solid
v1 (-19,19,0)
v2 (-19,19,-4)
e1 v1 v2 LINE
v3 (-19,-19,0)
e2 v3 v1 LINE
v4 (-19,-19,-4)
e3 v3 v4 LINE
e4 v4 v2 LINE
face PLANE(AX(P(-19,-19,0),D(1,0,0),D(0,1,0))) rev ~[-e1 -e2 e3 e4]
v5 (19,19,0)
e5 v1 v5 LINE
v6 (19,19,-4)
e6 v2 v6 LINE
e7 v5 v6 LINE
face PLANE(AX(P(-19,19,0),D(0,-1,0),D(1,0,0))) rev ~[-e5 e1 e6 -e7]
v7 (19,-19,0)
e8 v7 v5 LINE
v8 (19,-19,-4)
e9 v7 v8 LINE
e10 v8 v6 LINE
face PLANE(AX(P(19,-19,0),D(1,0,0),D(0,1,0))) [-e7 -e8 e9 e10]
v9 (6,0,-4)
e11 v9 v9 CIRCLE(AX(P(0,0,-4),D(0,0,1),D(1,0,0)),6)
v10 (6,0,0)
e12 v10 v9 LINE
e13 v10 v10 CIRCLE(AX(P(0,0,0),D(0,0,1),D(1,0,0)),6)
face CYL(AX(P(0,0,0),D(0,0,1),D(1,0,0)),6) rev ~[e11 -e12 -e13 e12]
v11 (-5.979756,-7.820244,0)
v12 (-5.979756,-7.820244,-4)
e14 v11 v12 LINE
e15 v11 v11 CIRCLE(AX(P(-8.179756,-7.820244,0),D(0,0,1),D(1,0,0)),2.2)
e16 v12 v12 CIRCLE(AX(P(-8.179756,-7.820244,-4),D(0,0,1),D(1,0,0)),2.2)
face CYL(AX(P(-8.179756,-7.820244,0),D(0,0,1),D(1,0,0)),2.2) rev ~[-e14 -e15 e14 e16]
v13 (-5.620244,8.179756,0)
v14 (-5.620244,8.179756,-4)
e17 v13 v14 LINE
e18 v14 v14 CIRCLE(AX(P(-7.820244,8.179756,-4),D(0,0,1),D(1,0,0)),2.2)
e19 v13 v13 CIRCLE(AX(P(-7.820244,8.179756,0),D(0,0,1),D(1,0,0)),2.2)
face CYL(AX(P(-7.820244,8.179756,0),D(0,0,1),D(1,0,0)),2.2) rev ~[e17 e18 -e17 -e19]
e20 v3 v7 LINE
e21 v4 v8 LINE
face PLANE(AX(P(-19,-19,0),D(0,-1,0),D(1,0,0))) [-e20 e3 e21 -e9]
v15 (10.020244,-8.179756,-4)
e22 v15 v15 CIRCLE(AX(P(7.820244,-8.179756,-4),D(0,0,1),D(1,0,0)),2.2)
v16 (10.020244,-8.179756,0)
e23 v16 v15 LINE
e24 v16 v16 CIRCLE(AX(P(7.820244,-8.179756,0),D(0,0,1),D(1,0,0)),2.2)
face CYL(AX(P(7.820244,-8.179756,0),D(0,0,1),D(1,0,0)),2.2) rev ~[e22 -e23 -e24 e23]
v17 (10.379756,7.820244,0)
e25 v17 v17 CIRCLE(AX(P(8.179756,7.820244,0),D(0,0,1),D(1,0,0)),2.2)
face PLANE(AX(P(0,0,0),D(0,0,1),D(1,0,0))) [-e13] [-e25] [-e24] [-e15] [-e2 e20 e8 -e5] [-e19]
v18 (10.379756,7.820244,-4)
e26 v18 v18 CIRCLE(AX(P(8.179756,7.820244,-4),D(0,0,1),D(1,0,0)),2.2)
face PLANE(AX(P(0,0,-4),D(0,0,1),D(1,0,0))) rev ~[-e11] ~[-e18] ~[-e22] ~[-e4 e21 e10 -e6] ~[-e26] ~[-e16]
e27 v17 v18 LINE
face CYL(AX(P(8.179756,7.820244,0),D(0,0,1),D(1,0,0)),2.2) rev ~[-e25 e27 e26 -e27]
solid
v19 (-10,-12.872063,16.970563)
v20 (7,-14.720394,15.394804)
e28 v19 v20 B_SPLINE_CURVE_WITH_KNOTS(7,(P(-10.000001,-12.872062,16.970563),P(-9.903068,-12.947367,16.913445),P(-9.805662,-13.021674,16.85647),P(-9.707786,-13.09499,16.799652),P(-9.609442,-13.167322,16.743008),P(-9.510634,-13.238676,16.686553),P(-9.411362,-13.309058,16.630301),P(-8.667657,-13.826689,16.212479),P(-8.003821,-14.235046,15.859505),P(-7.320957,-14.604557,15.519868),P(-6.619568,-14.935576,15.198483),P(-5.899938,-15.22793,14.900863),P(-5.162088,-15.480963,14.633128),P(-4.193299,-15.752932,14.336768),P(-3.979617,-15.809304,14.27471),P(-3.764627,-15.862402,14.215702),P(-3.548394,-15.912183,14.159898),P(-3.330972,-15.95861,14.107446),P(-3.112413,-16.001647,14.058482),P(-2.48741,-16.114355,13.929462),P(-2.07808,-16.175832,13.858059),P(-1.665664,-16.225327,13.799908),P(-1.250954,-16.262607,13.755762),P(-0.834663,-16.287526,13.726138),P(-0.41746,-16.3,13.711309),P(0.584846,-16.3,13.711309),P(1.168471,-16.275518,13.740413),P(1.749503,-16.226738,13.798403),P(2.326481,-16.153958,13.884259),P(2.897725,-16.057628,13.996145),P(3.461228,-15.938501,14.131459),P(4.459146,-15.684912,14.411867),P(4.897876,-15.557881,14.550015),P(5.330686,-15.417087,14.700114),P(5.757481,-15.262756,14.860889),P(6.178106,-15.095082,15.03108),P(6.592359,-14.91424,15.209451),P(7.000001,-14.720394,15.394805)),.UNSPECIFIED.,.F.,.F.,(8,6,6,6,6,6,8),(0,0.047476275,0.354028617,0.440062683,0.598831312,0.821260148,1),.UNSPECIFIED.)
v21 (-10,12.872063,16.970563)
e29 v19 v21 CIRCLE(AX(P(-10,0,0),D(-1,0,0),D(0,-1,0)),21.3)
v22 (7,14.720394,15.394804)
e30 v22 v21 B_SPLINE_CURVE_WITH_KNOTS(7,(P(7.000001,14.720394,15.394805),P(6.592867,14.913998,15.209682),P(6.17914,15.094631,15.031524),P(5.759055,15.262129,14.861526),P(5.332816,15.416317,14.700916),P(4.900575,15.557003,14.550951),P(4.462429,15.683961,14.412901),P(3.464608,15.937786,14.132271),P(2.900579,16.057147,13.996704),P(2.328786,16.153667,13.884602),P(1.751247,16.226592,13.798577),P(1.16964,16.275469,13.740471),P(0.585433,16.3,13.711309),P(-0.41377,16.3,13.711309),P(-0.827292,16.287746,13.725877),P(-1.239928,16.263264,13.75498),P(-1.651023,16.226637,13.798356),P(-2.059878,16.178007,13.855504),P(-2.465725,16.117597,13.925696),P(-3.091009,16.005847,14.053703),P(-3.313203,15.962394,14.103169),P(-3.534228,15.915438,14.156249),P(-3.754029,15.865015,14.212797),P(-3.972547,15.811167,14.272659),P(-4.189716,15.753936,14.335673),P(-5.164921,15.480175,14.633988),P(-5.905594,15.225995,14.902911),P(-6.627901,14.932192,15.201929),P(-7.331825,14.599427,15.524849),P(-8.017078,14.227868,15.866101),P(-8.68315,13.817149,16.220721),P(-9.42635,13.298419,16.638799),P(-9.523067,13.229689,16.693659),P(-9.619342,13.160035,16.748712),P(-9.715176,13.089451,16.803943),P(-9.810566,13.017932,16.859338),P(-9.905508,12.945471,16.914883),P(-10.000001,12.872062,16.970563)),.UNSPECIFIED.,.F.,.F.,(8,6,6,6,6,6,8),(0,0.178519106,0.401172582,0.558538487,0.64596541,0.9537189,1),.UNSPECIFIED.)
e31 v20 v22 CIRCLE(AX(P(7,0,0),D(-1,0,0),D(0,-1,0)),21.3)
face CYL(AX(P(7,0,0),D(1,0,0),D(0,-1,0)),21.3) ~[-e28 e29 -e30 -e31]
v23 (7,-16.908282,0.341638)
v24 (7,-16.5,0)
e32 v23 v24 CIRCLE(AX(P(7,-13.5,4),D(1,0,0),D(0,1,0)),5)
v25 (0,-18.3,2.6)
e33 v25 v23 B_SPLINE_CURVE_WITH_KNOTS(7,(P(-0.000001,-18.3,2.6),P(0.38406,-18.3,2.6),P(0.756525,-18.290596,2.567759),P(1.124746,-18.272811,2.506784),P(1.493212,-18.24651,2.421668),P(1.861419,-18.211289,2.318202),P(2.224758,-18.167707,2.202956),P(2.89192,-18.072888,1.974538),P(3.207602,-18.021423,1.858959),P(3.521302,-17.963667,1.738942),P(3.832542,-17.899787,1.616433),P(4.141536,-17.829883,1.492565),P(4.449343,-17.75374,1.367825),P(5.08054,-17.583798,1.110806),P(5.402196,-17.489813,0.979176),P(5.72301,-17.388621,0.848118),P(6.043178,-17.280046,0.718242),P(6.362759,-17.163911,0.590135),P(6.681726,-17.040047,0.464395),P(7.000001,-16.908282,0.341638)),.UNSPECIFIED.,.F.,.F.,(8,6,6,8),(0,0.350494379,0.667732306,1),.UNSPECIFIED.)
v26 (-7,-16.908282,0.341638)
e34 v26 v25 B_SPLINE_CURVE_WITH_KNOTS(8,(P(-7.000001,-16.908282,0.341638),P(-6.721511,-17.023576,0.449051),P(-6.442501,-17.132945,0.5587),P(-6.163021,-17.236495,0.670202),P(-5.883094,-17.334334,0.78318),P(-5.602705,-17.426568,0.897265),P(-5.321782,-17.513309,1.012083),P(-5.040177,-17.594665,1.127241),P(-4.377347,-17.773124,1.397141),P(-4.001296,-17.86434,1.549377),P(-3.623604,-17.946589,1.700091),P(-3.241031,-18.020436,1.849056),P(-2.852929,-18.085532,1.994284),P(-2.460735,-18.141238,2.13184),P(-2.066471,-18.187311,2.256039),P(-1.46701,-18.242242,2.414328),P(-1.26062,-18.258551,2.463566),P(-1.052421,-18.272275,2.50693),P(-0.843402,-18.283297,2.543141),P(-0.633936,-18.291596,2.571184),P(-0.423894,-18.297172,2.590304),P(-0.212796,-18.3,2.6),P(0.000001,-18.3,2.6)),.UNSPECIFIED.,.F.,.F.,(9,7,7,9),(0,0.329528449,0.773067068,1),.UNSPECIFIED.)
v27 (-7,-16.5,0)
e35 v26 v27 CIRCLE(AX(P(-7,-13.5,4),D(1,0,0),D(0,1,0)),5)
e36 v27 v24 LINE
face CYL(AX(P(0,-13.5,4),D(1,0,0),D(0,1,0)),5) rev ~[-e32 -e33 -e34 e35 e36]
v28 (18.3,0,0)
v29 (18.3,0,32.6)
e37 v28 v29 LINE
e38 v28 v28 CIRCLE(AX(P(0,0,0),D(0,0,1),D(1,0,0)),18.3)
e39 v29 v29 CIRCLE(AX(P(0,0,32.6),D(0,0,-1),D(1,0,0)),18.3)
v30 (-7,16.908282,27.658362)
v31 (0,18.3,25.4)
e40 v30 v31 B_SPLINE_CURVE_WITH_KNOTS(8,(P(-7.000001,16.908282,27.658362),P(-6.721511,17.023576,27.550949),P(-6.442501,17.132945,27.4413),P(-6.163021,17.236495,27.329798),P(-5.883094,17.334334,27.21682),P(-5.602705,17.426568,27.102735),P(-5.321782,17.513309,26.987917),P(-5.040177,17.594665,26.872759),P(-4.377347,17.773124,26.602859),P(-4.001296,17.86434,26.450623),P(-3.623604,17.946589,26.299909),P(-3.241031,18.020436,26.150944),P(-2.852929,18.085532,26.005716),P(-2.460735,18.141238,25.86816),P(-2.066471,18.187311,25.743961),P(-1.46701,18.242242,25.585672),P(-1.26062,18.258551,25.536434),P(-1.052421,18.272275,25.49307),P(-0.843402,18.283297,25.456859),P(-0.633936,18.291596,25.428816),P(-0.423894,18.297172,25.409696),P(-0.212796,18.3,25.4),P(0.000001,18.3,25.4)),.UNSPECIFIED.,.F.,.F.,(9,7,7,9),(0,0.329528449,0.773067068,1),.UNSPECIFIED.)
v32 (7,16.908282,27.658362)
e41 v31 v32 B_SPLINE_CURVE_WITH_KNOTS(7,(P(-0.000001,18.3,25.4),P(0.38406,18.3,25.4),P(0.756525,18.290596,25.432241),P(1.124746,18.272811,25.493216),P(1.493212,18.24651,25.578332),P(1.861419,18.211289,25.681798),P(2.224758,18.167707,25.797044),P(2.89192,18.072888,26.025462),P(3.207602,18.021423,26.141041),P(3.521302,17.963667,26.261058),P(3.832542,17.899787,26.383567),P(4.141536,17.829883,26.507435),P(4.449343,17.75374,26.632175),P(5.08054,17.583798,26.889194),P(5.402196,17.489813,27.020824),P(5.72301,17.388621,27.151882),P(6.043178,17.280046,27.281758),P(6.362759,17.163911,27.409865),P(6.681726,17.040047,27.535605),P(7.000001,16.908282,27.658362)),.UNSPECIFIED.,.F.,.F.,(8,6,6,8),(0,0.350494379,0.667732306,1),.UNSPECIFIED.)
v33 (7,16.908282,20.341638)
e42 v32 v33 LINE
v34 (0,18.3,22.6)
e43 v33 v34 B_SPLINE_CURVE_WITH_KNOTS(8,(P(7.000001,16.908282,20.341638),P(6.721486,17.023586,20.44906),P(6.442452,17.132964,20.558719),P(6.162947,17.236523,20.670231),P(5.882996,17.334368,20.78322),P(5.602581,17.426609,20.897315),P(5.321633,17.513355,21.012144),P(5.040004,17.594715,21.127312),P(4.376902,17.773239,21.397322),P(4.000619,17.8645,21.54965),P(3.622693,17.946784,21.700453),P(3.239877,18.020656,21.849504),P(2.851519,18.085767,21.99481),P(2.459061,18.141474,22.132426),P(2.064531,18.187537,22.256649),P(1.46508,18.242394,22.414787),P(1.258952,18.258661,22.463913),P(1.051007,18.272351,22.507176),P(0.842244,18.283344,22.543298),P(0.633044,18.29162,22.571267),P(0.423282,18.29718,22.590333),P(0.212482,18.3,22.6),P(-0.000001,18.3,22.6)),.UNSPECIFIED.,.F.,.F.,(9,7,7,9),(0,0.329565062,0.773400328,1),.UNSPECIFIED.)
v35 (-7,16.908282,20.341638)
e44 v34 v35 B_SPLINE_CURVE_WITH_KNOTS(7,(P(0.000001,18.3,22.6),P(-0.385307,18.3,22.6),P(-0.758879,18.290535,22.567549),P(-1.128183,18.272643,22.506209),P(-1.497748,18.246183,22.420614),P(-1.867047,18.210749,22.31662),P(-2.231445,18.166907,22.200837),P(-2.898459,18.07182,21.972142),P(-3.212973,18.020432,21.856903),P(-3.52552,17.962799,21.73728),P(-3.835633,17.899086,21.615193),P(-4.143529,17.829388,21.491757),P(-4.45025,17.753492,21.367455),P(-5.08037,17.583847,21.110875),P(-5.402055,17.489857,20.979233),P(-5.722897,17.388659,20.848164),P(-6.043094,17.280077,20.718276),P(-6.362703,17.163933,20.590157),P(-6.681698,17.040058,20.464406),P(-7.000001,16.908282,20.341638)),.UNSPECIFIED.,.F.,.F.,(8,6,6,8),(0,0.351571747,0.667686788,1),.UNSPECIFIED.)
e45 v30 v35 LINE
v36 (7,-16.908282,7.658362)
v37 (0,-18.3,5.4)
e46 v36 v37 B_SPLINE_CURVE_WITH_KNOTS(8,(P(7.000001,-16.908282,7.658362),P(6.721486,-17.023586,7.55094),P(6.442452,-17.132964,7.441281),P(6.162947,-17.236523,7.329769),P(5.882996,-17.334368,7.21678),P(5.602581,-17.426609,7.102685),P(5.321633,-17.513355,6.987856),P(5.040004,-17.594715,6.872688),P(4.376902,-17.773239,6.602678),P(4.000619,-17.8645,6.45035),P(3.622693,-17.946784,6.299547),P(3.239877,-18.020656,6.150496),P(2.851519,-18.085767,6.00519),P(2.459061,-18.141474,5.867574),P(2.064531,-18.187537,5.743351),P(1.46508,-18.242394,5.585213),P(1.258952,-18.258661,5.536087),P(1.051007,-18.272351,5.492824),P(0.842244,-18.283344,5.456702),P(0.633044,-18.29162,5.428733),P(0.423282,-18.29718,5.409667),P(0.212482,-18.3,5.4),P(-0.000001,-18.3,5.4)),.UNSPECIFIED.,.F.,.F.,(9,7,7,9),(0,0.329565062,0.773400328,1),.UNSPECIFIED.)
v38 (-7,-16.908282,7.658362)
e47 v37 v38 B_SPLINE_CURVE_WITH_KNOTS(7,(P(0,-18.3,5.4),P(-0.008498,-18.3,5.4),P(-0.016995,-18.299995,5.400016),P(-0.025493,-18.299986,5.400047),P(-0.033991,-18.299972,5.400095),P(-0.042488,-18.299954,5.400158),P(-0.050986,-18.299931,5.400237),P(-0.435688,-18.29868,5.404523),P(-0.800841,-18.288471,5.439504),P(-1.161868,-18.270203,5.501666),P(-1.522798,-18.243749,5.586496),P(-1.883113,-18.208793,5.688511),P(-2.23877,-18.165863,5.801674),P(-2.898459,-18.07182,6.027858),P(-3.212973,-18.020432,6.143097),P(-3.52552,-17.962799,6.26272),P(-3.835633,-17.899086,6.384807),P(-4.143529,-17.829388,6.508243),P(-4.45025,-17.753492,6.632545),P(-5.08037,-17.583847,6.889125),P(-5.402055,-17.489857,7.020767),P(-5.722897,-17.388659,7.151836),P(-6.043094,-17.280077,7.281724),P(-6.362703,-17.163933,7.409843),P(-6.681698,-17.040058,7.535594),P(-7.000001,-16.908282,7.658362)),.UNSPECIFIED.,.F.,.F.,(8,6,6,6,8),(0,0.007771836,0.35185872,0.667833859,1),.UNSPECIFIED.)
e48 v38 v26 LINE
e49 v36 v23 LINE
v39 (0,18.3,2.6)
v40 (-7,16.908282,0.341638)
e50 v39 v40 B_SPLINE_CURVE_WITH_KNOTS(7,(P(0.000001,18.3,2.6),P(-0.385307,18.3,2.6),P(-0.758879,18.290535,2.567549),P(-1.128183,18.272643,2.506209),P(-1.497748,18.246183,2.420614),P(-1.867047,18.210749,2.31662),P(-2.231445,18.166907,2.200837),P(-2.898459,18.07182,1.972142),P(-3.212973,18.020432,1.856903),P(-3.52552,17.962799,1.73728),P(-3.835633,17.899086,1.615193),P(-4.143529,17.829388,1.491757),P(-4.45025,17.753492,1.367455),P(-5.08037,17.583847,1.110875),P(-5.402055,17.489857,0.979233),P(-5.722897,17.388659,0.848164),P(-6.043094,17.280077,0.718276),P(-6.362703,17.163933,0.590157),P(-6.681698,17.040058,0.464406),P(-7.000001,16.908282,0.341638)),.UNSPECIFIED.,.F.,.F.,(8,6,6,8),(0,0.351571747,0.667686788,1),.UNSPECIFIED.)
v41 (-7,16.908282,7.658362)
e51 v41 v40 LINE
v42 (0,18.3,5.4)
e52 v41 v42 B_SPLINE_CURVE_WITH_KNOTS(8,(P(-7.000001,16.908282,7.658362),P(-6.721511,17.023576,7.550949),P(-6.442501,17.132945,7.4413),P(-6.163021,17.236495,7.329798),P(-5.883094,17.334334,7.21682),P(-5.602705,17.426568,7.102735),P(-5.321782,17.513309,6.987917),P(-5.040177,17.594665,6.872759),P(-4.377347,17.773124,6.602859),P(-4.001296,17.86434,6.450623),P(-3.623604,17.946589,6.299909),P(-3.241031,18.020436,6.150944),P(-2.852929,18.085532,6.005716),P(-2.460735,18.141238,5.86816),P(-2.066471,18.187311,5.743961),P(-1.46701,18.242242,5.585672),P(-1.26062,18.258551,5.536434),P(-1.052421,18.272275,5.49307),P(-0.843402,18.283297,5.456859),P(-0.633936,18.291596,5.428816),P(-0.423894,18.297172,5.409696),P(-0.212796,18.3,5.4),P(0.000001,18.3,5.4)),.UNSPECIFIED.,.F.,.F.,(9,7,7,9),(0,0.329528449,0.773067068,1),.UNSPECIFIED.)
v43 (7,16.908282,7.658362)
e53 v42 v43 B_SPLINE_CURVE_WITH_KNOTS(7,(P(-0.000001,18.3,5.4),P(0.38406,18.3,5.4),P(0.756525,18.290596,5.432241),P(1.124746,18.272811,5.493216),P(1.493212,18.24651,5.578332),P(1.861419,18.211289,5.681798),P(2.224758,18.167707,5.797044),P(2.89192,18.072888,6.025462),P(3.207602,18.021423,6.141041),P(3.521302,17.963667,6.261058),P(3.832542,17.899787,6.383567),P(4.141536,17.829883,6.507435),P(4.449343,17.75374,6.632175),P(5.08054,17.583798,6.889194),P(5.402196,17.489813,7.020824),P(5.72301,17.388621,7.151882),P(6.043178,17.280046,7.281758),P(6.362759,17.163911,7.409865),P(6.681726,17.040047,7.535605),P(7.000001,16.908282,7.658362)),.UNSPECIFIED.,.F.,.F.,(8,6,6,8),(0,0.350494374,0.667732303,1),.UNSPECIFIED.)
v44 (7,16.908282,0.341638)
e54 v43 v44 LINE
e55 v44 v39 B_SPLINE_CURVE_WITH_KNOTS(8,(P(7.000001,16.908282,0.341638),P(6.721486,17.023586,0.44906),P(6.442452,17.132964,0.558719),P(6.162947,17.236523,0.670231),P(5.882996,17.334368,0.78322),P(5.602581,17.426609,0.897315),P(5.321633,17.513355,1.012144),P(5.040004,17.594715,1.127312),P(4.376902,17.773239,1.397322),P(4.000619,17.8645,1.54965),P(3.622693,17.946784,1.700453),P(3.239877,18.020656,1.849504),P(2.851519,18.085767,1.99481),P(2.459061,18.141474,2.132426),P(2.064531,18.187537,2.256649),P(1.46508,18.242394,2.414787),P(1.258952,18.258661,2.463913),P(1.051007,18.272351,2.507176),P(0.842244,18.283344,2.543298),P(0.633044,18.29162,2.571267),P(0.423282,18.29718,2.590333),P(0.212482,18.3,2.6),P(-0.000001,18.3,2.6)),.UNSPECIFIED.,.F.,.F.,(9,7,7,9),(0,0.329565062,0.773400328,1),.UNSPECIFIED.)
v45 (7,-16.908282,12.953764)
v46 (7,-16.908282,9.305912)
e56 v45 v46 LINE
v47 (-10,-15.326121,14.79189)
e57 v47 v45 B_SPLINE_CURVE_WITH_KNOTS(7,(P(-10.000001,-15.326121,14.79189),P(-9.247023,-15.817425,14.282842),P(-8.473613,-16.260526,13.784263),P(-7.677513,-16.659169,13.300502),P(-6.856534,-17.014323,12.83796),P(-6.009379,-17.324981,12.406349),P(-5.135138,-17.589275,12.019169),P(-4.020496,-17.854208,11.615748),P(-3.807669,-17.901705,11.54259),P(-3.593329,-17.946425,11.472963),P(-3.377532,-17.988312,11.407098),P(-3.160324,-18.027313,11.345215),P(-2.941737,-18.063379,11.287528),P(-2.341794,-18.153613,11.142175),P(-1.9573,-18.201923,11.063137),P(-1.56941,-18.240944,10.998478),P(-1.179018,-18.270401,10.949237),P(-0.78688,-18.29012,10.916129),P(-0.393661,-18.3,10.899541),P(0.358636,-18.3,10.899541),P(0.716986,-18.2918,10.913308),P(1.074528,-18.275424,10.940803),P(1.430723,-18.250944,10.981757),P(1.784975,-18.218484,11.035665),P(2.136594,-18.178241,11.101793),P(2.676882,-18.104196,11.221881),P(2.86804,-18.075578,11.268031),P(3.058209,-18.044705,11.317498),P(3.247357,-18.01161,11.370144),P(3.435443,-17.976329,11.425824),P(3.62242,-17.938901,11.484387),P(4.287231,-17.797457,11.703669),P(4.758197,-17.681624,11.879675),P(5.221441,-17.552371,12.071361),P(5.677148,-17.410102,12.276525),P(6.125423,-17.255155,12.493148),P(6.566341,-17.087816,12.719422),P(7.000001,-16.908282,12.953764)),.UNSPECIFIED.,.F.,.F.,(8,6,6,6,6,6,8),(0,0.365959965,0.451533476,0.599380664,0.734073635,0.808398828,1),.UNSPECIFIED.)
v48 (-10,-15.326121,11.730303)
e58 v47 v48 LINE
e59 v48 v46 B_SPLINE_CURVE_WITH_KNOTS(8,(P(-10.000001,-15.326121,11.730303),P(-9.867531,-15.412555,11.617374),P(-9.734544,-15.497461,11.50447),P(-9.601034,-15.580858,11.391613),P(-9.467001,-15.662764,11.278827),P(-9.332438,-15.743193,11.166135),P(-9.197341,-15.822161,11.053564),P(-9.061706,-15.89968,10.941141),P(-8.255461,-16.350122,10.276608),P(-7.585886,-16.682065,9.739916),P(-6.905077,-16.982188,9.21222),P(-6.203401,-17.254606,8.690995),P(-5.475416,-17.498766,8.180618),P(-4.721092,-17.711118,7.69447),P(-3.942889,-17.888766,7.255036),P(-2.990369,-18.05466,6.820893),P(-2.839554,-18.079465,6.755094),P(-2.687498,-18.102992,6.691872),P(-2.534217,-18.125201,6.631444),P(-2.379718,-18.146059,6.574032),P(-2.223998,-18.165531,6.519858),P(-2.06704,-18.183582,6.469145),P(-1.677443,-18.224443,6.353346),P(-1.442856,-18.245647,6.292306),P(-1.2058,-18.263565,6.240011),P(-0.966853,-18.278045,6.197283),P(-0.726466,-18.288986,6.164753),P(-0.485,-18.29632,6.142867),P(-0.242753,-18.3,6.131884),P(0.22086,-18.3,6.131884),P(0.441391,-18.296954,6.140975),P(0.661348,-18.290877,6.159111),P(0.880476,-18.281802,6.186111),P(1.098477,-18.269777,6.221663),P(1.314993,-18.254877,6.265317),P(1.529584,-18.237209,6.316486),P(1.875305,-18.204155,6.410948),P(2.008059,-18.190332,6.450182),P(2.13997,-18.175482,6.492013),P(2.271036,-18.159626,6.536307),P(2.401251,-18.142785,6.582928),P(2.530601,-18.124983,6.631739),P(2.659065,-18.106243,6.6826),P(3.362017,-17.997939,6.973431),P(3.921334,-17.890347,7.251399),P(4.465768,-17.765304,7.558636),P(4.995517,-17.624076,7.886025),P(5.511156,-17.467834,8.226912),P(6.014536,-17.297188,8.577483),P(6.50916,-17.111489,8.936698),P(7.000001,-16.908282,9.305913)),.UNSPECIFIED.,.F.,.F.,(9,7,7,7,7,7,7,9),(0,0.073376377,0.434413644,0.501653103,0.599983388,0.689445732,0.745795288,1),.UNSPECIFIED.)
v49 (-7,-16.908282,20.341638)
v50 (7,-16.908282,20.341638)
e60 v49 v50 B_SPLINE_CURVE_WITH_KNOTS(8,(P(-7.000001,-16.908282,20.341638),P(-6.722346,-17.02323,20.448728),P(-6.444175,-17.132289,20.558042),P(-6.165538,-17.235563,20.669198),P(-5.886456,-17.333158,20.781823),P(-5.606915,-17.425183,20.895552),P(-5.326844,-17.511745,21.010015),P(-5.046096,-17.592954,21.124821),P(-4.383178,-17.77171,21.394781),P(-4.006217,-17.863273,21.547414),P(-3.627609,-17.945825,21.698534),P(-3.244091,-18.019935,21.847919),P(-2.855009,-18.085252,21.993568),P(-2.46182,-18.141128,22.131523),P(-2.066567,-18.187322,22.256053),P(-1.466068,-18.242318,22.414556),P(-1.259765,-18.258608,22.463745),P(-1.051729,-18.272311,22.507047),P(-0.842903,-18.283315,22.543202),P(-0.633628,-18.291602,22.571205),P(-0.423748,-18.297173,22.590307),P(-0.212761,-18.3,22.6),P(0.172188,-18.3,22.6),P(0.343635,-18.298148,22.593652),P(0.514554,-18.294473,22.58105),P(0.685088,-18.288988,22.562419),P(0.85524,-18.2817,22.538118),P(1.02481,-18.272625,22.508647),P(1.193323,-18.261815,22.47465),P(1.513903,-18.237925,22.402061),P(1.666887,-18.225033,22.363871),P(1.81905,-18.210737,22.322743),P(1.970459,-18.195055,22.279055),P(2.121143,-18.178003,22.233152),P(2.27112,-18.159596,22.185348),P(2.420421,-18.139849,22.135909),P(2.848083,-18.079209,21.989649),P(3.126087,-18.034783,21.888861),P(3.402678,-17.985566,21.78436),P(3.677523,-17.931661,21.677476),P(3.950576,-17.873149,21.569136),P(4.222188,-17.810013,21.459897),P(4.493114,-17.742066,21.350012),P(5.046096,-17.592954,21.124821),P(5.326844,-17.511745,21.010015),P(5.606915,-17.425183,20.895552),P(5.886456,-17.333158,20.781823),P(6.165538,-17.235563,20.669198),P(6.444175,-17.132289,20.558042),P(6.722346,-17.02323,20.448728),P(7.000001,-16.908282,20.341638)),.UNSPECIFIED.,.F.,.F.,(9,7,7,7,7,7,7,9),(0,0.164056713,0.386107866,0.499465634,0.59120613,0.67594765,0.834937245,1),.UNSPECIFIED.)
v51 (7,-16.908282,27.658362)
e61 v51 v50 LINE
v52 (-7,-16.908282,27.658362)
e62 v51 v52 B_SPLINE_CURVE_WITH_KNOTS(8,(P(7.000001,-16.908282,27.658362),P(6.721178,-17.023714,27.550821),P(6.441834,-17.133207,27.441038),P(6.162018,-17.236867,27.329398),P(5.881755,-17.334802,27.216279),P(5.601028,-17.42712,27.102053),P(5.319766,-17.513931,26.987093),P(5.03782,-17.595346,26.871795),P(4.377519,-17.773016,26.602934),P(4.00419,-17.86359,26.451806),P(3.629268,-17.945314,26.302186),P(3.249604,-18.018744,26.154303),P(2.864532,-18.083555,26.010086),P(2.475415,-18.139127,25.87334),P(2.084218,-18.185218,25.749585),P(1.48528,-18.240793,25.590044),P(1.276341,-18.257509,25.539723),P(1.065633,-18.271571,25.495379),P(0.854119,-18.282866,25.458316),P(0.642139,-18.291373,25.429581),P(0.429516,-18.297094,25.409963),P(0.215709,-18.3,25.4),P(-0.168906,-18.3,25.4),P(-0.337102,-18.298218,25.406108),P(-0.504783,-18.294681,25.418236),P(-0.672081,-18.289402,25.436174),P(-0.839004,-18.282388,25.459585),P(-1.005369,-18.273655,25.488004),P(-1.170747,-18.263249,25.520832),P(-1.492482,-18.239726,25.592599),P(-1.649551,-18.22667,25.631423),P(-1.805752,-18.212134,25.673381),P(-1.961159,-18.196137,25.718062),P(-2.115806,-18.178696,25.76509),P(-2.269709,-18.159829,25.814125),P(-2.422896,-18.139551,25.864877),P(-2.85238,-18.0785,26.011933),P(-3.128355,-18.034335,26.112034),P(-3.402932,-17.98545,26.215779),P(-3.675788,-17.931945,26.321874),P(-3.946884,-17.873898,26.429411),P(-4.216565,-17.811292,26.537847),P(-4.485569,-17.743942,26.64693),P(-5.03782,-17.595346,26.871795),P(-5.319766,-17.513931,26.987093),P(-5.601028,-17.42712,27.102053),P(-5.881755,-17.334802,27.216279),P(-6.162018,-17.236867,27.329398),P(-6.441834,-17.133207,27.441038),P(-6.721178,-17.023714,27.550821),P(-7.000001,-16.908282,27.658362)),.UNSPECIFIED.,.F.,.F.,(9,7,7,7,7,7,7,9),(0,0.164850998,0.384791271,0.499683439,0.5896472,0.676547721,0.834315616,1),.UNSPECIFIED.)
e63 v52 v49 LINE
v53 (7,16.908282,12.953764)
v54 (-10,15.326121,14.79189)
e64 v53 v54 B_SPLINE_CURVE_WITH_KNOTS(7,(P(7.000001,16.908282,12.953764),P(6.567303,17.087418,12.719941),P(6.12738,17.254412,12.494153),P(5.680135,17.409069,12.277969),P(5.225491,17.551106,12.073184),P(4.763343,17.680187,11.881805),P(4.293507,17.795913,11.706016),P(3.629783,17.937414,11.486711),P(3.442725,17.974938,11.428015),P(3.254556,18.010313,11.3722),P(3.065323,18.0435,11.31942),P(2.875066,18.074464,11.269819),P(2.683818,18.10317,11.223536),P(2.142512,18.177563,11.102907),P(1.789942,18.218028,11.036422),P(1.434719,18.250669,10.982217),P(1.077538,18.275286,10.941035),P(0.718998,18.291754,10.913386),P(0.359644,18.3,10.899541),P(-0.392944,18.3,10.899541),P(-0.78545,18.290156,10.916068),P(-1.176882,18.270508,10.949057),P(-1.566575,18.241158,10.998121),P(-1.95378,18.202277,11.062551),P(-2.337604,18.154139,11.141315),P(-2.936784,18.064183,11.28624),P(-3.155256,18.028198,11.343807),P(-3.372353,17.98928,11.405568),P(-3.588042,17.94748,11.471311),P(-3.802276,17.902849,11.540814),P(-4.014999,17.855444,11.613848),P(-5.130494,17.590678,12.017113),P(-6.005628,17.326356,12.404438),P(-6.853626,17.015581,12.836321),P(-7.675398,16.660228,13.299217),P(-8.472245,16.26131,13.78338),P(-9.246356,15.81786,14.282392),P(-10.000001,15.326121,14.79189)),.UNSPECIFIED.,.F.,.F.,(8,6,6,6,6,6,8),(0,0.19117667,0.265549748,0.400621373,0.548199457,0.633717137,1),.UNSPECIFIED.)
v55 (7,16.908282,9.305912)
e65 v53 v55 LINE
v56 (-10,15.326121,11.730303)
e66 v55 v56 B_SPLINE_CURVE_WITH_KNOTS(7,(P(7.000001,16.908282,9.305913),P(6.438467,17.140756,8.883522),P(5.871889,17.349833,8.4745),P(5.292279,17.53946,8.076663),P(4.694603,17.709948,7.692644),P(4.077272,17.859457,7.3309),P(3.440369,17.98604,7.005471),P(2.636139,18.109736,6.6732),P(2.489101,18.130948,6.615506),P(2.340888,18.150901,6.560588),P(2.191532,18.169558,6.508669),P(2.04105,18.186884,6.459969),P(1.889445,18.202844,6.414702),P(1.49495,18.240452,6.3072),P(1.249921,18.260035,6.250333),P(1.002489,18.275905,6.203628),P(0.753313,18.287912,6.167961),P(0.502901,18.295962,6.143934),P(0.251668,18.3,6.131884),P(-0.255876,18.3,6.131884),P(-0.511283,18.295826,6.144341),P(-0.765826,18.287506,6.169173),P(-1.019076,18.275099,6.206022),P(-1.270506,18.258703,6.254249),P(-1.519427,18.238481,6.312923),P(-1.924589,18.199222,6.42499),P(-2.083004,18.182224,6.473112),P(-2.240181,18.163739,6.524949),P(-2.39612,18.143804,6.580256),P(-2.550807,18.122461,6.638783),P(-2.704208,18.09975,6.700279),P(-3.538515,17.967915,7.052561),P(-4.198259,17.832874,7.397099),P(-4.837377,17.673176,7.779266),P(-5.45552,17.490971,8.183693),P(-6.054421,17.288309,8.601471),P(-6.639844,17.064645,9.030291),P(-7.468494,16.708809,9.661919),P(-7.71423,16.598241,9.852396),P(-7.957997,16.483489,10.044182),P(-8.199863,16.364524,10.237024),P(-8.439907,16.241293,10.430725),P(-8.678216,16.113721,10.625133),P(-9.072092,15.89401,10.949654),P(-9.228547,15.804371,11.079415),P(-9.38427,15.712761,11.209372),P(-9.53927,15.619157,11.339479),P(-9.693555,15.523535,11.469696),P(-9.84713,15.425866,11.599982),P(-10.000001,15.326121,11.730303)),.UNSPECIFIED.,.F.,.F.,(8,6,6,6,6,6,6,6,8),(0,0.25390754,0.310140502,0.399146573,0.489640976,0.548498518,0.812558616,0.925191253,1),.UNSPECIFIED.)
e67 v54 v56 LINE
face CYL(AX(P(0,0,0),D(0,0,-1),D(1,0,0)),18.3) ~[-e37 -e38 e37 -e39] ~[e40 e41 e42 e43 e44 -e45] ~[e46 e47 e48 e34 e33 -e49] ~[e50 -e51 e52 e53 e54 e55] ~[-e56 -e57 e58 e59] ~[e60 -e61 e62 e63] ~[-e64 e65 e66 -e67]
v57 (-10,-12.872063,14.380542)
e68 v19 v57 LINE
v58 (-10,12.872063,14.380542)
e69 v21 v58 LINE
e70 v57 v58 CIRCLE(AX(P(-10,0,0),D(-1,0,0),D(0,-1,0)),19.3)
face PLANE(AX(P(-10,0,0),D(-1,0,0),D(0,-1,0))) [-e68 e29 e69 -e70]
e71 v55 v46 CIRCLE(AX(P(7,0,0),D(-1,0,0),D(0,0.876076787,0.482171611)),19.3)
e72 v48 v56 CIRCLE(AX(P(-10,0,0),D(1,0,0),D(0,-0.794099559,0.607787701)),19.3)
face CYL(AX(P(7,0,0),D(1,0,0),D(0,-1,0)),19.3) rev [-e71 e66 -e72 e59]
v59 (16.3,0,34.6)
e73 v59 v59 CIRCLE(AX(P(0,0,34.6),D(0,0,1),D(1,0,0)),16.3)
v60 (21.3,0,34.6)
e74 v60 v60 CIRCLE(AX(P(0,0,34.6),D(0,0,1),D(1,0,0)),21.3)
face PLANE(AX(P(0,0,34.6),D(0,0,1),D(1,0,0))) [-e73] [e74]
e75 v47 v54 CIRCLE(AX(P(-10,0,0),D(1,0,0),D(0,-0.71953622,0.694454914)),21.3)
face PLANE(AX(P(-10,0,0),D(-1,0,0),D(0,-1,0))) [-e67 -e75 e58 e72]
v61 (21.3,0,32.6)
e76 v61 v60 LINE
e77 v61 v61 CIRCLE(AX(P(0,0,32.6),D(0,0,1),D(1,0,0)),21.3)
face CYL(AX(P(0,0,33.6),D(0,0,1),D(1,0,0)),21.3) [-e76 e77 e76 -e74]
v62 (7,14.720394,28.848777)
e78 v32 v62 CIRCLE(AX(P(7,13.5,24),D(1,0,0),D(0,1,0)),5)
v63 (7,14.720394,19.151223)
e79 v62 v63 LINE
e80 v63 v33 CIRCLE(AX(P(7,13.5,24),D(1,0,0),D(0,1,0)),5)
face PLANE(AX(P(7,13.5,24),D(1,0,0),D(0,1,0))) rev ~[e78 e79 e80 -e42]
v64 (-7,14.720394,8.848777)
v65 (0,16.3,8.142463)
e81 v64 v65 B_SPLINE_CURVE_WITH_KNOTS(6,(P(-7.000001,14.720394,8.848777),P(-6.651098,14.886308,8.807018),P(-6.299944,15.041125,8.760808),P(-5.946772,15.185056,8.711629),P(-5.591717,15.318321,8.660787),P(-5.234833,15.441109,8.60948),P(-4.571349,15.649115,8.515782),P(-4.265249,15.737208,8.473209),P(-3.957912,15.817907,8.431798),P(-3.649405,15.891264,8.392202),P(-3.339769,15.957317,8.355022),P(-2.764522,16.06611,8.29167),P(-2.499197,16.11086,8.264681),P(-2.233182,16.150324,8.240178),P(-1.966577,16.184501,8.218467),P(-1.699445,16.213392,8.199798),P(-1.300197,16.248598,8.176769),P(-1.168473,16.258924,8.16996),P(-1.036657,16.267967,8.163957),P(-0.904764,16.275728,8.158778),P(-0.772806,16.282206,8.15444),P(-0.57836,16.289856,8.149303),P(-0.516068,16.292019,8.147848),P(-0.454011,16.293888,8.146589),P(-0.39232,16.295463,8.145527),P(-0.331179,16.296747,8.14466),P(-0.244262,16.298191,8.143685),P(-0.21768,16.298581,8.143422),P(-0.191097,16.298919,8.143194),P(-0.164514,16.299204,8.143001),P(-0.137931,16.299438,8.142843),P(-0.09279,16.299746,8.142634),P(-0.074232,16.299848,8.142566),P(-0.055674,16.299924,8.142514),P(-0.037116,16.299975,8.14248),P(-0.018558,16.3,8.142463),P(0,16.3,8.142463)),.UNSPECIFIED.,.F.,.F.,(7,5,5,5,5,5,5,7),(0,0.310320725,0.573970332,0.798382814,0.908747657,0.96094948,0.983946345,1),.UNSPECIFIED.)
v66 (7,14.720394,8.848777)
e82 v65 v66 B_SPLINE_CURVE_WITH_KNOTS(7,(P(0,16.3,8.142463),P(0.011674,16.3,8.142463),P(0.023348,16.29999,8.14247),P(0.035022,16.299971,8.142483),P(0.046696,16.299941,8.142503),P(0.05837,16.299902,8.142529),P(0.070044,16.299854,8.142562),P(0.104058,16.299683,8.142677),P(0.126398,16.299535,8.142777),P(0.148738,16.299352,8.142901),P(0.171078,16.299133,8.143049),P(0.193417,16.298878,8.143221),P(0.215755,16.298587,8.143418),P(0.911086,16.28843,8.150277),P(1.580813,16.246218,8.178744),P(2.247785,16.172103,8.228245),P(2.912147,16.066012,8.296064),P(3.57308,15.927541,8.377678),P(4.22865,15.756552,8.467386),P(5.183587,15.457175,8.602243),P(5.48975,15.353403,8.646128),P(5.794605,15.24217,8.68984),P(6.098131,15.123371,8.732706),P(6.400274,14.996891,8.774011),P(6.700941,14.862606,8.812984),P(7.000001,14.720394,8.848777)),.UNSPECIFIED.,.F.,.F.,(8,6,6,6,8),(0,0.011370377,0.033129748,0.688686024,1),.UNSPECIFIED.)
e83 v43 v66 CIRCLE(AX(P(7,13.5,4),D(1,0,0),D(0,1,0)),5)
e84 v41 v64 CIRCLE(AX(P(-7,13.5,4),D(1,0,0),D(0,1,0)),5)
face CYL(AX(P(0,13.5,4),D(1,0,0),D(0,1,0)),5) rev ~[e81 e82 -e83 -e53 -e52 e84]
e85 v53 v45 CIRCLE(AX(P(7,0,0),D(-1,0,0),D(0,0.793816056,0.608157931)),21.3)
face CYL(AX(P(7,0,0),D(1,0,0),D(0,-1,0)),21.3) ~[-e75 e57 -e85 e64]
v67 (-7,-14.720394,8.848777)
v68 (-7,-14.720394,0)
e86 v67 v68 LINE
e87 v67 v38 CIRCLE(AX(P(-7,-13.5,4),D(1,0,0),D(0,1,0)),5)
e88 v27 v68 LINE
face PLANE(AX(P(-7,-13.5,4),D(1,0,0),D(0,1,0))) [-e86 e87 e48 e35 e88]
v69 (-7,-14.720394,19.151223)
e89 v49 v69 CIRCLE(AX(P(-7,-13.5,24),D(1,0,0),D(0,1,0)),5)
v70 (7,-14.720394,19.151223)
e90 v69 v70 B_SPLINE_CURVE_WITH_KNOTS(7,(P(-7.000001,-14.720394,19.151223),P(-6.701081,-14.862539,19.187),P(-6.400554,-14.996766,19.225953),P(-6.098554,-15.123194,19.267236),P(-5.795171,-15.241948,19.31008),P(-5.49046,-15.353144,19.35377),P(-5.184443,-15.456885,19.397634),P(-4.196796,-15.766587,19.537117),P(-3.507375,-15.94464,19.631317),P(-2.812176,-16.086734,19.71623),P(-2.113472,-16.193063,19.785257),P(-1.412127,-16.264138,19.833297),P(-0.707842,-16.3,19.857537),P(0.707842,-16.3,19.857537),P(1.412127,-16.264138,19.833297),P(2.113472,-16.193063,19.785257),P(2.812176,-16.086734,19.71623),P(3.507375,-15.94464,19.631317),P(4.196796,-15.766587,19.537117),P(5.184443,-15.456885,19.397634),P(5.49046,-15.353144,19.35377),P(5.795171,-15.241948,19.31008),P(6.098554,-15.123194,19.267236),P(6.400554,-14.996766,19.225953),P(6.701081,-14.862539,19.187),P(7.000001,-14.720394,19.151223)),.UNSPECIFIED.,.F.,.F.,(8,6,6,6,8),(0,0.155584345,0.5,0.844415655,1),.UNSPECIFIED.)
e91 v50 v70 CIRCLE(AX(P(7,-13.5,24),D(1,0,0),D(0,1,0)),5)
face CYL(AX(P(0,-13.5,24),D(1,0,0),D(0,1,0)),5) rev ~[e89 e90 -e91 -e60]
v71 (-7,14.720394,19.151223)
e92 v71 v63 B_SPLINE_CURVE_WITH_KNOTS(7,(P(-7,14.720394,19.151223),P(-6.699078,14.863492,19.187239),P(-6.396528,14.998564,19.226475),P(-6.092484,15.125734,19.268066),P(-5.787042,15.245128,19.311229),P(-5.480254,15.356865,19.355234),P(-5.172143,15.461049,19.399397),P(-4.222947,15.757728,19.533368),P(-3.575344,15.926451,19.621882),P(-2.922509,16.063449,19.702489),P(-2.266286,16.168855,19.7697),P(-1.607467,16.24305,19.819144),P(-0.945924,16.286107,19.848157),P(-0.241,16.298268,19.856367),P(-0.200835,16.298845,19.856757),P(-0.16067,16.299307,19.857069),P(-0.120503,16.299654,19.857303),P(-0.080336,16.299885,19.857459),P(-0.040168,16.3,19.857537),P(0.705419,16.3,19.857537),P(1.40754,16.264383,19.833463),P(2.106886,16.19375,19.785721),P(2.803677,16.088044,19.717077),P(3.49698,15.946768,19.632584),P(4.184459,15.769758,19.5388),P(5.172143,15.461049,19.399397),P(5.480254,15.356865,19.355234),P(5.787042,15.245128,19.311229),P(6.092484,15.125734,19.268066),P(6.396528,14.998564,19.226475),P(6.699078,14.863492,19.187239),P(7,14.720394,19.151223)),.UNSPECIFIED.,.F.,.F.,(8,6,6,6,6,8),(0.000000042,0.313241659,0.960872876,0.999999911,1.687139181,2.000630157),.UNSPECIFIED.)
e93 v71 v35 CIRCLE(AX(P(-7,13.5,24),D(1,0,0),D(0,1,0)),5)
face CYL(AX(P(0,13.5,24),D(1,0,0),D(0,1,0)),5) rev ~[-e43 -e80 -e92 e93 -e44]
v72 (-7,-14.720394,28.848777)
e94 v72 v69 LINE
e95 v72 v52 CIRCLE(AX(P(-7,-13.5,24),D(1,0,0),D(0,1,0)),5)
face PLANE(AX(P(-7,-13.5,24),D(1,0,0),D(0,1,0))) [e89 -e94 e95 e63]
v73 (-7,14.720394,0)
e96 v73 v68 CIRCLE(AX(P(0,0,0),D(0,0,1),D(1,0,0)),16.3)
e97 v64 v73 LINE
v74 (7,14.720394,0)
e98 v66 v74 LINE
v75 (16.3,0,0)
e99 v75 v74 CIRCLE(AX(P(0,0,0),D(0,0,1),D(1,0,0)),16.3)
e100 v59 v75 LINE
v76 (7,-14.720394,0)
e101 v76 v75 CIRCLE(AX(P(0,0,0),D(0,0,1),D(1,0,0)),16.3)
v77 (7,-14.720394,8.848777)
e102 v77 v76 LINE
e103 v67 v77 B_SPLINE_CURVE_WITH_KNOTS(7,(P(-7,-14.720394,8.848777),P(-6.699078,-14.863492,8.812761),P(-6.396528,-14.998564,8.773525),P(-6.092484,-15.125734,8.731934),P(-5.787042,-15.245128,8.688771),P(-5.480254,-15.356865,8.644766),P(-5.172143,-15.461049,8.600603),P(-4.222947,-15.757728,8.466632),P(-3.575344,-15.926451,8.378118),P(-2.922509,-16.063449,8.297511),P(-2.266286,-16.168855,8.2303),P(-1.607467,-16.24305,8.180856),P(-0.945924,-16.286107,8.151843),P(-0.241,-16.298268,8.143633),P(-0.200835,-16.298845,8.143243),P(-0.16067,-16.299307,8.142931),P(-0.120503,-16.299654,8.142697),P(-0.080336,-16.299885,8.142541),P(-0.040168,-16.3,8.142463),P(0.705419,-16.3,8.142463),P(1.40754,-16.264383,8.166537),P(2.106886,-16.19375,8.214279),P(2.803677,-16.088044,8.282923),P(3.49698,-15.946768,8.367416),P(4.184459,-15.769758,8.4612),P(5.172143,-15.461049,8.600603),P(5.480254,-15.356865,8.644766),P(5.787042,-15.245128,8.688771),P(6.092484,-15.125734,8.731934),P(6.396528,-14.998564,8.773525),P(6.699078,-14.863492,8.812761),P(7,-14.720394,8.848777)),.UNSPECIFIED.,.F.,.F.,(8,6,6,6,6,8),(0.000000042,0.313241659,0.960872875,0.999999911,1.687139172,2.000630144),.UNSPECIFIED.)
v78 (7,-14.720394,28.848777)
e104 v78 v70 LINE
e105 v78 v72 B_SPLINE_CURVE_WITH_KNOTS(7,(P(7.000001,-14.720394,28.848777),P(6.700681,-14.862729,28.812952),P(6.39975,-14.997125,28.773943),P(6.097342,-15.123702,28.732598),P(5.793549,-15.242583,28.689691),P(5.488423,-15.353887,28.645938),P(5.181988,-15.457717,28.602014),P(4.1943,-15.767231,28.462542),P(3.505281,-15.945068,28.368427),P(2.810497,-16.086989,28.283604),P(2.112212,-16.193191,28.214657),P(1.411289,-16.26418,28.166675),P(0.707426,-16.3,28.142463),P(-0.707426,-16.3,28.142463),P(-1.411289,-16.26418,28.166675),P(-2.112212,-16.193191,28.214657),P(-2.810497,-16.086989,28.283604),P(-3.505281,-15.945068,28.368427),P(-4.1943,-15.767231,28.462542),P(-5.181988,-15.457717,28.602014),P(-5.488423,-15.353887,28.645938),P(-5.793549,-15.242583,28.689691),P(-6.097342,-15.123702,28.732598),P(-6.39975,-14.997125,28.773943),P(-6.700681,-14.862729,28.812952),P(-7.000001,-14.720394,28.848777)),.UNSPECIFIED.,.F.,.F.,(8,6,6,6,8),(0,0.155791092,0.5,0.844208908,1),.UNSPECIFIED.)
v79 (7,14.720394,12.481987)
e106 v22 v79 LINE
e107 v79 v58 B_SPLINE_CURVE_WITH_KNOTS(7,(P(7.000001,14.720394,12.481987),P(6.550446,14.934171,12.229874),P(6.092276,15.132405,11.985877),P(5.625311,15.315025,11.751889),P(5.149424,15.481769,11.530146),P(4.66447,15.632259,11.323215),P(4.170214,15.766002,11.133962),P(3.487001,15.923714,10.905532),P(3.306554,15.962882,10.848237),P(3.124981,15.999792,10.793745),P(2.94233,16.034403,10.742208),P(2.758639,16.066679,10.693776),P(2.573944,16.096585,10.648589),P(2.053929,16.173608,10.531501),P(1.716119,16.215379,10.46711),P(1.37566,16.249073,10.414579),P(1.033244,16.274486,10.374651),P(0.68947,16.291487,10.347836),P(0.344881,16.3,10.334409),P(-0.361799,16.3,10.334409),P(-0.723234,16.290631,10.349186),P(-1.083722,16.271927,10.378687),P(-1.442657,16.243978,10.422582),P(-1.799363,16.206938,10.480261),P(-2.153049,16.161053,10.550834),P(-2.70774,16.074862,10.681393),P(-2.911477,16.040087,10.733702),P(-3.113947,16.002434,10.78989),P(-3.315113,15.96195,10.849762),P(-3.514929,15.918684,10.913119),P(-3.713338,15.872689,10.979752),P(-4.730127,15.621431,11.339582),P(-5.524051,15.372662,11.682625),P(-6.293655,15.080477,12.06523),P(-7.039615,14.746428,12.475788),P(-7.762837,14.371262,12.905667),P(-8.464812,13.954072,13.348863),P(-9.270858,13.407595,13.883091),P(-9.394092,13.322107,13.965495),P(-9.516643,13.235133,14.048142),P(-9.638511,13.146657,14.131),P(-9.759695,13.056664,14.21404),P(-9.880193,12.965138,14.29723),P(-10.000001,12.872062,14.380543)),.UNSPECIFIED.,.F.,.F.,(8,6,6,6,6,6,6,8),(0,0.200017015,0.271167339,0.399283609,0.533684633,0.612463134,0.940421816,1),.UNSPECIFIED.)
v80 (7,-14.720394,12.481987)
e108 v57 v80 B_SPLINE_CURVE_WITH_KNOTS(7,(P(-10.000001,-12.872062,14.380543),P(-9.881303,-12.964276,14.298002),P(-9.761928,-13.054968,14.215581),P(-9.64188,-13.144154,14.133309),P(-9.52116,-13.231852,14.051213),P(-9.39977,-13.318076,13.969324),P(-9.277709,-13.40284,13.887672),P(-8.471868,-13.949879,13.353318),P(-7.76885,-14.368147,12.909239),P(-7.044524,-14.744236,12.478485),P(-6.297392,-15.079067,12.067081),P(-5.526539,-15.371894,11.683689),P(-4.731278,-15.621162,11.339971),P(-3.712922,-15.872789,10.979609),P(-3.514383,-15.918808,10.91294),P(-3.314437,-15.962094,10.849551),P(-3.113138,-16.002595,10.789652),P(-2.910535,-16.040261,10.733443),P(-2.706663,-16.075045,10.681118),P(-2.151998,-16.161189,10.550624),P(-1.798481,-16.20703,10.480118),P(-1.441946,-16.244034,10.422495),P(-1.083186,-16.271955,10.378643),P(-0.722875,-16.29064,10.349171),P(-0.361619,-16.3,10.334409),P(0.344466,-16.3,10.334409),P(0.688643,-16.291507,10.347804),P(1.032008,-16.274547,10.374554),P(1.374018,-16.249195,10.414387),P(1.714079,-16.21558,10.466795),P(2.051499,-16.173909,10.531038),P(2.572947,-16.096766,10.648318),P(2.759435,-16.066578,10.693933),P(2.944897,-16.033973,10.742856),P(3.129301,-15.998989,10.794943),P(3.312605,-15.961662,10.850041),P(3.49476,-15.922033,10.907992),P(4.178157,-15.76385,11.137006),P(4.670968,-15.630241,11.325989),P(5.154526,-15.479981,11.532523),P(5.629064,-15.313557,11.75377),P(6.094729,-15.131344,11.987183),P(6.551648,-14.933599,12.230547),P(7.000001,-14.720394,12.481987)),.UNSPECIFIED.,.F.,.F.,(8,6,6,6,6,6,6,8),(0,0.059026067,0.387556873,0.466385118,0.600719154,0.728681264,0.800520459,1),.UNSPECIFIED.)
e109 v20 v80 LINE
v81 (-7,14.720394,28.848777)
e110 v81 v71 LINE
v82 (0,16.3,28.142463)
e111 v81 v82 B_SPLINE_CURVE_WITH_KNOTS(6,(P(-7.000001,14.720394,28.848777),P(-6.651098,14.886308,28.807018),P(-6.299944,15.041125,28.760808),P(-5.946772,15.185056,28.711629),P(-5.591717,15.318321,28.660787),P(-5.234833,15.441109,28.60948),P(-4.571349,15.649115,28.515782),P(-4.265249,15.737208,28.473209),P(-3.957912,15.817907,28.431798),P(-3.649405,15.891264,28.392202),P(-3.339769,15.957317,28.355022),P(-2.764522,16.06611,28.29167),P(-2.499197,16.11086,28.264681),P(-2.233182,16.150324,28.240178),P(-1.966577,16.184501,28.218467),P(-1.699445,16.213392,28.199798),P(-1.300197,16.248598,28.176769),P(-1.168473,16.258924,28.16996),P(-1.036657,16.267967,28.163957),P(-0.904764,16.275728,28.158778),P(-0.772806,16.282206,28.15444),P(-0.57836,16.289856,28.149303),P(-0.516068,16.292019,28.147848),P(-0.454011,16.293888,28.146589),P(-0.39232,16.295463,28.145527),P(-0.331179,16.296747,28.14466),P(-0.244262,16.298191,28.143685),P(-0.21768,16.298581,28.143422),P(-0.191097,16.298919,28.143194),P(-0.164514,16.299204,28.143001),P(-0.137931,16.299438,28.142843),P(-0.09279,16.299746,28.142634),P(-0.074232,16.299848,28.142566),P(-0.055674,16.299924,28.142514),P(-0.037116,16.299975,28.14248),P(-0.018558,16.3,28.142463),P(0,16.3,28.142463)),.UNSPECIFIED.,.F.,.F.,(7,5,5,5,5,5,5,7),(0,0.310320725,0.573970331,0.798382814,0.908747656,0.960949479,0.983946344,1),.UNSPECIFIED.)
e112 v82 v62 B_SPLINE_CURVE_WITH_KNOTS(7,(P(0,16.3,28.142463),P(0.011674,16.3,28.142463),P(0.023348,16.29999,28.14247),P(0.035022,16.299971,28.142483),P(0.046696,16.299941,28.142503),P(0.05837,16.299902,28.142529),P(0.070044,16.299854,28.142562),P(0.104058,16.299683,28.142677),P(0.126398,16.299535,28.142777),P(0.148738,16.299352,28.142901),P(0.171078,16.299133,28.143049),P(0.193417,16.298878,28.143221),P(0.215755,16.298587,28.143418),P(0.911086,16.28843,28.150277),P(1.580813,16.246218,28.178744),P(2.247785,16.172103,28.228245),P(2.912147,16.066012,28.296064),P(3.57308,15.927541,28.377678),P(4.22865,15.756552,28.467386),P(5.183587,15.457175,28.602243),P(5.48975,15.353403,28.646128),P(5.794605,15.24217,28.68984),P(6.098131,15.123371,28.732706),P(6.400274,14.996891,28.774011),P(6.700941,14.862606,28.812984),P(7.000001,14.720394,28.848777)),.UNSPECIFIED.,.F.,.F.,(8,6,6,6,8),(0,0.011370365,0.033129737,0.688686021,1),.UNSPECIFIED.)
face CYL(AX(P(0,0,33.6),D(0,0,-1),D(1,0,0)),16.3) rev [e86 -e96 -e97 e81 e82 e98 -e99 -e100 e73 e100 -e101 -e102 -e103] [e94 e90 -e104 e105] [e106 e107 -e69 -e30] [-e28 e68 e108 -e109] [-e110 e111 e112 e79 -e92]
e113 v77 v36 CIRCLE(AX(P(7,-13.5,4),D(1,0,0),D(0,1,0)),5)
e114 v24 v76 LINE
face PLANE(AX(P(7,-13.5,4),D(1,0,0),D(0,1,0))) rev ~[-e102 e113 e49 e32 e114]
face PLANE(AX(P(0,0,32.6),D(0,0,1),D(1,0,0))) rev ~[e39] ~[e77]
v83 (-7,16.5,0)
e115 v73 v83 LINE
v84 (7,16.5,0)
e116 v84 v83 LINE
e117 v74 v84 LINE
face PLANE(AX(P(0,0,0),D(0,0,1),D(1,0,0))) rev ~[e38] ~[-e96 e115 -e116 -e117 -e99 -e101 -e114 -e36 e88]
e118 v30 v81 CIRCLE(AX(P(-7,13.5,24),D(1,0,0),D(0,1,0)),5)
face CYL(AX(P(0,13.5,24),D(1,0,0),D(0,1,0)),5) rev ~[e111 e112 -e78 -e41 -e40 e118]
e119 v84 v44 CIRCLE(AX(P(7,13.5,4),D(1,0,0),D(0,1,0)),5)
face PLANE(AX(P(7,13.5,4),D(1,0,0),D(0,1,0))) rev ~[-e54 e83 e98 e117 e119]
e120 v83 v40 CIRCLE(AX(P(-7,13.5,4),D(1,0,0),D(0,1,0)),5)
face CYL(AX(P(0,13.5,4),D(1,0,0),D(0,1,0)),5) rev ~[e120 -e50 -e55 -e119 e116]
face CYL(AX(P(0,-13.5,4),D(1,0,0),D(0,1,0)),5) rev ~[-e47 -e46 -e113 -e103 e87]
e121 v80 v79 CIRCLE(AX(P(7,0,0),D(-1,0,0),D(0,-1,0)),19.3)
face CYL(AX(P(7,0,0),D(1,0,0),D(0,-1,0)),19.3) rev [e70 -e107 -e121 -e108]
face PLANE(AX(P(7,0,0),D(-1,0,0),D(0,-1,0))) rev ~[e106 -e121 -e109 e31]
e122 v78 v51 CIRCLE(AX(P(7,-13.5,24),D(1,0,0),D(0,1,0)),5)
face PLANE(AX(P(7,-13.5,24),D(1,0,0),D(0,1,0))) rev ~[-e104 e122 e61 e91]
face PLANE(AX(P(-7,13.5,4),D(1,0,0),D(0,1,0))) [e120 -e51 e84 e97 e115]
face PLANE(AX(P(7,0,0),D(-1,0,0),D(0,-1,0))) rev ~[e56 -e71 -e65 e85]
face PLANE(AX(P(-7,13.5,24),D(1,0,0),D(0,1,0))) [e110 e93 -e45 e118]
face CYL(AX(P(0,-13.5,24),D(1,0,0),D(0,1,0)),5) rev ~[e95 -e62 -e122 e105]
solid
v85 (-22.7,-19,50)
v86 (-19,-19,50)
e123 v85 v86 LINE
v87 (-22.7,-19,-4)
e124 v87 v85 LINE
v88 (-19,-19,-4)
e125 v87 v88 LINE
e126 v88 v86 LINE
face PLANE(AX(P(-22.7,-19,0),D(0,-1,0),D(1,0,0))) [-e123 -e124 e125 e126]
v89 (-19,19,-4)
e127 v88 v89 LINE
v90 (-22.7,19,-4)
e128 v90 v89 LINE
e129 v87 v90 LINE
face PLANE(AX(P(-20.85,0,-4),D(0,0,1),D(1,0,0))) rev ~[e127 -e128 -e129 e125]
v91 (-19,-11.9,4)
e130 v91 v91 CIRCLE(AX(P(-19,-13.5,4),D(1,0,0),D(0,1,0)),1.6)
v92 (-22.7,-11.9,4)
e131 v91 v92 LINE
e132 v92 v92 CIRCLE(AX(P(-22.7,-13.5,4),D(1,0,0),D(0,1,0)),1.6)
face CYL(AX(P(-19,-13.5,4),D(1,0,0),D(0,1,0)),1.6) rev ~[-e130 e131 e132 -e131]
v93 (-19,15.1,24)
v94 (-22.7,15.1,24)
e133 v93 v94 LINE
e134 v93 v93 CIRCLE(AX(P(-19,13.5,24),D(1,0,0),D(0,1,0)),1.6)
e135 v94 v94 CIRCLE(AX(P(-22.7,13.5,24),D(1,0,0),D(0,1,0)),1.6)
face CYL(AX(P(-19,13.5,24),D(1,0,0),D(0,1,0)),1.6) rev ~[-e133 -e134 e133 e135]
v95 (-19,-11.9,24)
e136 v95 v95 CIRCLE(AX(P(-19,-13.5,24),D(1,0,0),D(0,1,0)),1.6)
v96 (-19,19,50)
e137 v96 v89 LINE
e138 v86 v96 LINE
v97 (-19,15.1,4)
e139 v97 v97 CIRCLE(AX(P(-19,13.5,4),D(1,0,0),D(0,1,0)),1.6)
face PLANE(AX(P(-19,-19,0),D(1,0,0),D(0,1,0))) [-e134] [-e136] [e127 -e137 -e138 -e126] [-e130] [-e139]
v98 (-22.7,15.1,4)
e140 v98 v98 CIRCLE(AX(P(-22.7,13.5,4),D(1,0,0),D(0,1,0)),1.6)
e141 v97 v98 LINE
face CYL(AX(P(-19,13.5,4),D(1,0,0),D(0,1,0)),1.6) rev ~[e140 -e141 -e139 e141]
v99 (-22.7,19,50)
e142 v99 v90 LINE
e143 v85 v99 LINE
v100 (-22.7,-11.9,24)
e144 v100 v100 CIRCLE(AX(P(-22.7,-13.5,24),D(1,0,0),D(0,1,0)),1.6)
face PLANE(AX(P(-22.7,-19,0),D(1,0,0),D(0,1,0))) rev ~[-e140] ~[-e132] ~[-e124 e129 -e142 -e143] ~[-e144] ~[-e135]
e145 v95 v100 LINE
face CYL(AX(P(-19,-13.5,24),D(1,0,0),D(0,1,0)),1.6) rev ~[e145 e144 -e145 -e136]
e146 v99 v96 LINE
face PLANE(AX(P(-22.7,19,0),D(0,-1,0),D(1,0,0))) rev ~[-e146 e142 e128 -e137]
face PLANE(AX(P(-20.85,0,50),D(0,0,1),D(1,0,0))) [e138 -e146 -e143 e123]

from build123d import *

# Parameters (mm, degrees)
SKETCH002_R     = 18.3
SKETCH002_R_2   = 16.3
PAD002_DEPTH    = 33.6
SKETCH003_R     = 5
POCKET_DEPTH    = 7
SKETCH005_R     = 21.3
SKETCH005_R_2   = 16.3
PAD003_DEPTH    = 1
SKETCH006_R     = 21.3
SKETCH006_R_2   = 19.3
PAD006_DEPTH    = 17
SKETCH_W        = 38
SKETCH_H        = 38
SKETCH_R        = 6
SKETCH_R_2      = 2.2
PAD_DEPTH       = 4
SKETCH001_W     = 3.7
SKETCH001_H     = 38
PAD001_DEPTH    = 50
PAD005_DEPTH    = 4
SKETCH004_R     = 1.6
POCKET002_DEPTH = 3.701


with BuildPart() as cilindroreduccion:
    # Sketch002 → Pad002 (new body)
    with BuildSketch(Plane.XY):
        Circle(SKETCH002_R)
        Circle(SKETCH002_R_2, mode=Mode.SUBTRACT)
    extrude(amount=PAD002_DEPTH)

    # Sketch003 → Pocket (cut, symmetric)
    with BuildSketch(Plane.YZ):
        with Locations((13.5, 4)):
            Circle(SKETCH003_R)
        with Locations((-13.5, 4)):
            Circle(SKETCH003_R)
        with Locations((13.5, 24)):
            Circle(SKETCH003_R)
        with Locations((-13.5, 24)):
            Circle(SKETCH003_R)
    extrude(amount=POCKET_DEPTH, both=True, mode=Mode.SUBTRACT)

    # Sketch005 (on Face3 of Pocket) → Pad003 (join, symmetric)
    with BuildSketch(Plane.XY.offset(33.6)):
        Circle(SKETCH005_R)
        Circle(SKETCH005_R_2, mode=Mode.SUBTRACT)
    extrude(amount=PAD003_DEPTH, both=True)

    # Sketch006 (on Face11 of Pad003) → Pad006 (join)
    with BuildSketch(Plane(origin=(7, 0, 0), x_dir=(0, -1, 0), z_dir=(-1, 0, 0))):
        Circle(SKETCH006_R)
        Circle(SKETCH006_R_2, mode=Mode.SUBTRACT)
    extrude(amount=PAD006_DEPTH)


with BuildPart() as caratornillos:
    # Sketch → Pad (new body)
    with BuildSketch(Plane.XY):
        Rectangle(SKETCH_W, SKETCH_H)
        Circle(SKETCH_R, mode=Mode.SUBTRACT)
        with Locations((8.179756, 7.820244)):
            Circle(SKETCH_R_2, mode=Mode.SUBTRACT)
        with Locations((7.820244, -8.179756)):
            Circle(SKETCH_R_2, mode=Mode.SUBTRACT)
        with Locations((-7.820244, 8.179756)):
            Circle(SKETCH_R_2, mode=Mode.SUBTRACT)
        with Locations((-8.179756, -7.820244)):
            Circle(SKETCH_R_2, mode=Mode.SUBTRACT)
    extrude(amount=-PAD_DEPTH)


with BuildPart() as separador:
    # Sketch001 → Pad001 (new body)
    with BuildSketch(Plane.XY):
        with Locations((-20.85, 0)):
            Rectangle(SKETCH001_W, SKETCH001_H)
    extrude(amount=PAD001_DEPTH)

    # Sketch001 → Pad005 (join)
    with BuildSketch(Plane.XY):
        with Locations((-20.85, 0)):
            Rectangle(SKETCH001_W, SKETCH001_H)
    extrude(amount=-PAD005_DEPTH)

    # Sketch004 (on Face15 of Pad001) → Pocket002 (cut, through all)
    with BuildSketch(Plane.YZ.offset(-19)):
        with Locations((13.5, 4)):
            Circle(SKETCH004_R)
        with Locations((-13.5, 4)):
            Circle(SKETCH004_R)
        with Locations((-13.5, 24)):
            Circle(SKETCH004_R)
        with Locations((13.5, 24)):
            Circle(SKETCH004_R)
    extrude(amount=-POCKET002_DEPTH, mode=Mode.SUBTRACT)


solid = Compound([cilindroreduccion.part, caratornillos.part, separador.part])
